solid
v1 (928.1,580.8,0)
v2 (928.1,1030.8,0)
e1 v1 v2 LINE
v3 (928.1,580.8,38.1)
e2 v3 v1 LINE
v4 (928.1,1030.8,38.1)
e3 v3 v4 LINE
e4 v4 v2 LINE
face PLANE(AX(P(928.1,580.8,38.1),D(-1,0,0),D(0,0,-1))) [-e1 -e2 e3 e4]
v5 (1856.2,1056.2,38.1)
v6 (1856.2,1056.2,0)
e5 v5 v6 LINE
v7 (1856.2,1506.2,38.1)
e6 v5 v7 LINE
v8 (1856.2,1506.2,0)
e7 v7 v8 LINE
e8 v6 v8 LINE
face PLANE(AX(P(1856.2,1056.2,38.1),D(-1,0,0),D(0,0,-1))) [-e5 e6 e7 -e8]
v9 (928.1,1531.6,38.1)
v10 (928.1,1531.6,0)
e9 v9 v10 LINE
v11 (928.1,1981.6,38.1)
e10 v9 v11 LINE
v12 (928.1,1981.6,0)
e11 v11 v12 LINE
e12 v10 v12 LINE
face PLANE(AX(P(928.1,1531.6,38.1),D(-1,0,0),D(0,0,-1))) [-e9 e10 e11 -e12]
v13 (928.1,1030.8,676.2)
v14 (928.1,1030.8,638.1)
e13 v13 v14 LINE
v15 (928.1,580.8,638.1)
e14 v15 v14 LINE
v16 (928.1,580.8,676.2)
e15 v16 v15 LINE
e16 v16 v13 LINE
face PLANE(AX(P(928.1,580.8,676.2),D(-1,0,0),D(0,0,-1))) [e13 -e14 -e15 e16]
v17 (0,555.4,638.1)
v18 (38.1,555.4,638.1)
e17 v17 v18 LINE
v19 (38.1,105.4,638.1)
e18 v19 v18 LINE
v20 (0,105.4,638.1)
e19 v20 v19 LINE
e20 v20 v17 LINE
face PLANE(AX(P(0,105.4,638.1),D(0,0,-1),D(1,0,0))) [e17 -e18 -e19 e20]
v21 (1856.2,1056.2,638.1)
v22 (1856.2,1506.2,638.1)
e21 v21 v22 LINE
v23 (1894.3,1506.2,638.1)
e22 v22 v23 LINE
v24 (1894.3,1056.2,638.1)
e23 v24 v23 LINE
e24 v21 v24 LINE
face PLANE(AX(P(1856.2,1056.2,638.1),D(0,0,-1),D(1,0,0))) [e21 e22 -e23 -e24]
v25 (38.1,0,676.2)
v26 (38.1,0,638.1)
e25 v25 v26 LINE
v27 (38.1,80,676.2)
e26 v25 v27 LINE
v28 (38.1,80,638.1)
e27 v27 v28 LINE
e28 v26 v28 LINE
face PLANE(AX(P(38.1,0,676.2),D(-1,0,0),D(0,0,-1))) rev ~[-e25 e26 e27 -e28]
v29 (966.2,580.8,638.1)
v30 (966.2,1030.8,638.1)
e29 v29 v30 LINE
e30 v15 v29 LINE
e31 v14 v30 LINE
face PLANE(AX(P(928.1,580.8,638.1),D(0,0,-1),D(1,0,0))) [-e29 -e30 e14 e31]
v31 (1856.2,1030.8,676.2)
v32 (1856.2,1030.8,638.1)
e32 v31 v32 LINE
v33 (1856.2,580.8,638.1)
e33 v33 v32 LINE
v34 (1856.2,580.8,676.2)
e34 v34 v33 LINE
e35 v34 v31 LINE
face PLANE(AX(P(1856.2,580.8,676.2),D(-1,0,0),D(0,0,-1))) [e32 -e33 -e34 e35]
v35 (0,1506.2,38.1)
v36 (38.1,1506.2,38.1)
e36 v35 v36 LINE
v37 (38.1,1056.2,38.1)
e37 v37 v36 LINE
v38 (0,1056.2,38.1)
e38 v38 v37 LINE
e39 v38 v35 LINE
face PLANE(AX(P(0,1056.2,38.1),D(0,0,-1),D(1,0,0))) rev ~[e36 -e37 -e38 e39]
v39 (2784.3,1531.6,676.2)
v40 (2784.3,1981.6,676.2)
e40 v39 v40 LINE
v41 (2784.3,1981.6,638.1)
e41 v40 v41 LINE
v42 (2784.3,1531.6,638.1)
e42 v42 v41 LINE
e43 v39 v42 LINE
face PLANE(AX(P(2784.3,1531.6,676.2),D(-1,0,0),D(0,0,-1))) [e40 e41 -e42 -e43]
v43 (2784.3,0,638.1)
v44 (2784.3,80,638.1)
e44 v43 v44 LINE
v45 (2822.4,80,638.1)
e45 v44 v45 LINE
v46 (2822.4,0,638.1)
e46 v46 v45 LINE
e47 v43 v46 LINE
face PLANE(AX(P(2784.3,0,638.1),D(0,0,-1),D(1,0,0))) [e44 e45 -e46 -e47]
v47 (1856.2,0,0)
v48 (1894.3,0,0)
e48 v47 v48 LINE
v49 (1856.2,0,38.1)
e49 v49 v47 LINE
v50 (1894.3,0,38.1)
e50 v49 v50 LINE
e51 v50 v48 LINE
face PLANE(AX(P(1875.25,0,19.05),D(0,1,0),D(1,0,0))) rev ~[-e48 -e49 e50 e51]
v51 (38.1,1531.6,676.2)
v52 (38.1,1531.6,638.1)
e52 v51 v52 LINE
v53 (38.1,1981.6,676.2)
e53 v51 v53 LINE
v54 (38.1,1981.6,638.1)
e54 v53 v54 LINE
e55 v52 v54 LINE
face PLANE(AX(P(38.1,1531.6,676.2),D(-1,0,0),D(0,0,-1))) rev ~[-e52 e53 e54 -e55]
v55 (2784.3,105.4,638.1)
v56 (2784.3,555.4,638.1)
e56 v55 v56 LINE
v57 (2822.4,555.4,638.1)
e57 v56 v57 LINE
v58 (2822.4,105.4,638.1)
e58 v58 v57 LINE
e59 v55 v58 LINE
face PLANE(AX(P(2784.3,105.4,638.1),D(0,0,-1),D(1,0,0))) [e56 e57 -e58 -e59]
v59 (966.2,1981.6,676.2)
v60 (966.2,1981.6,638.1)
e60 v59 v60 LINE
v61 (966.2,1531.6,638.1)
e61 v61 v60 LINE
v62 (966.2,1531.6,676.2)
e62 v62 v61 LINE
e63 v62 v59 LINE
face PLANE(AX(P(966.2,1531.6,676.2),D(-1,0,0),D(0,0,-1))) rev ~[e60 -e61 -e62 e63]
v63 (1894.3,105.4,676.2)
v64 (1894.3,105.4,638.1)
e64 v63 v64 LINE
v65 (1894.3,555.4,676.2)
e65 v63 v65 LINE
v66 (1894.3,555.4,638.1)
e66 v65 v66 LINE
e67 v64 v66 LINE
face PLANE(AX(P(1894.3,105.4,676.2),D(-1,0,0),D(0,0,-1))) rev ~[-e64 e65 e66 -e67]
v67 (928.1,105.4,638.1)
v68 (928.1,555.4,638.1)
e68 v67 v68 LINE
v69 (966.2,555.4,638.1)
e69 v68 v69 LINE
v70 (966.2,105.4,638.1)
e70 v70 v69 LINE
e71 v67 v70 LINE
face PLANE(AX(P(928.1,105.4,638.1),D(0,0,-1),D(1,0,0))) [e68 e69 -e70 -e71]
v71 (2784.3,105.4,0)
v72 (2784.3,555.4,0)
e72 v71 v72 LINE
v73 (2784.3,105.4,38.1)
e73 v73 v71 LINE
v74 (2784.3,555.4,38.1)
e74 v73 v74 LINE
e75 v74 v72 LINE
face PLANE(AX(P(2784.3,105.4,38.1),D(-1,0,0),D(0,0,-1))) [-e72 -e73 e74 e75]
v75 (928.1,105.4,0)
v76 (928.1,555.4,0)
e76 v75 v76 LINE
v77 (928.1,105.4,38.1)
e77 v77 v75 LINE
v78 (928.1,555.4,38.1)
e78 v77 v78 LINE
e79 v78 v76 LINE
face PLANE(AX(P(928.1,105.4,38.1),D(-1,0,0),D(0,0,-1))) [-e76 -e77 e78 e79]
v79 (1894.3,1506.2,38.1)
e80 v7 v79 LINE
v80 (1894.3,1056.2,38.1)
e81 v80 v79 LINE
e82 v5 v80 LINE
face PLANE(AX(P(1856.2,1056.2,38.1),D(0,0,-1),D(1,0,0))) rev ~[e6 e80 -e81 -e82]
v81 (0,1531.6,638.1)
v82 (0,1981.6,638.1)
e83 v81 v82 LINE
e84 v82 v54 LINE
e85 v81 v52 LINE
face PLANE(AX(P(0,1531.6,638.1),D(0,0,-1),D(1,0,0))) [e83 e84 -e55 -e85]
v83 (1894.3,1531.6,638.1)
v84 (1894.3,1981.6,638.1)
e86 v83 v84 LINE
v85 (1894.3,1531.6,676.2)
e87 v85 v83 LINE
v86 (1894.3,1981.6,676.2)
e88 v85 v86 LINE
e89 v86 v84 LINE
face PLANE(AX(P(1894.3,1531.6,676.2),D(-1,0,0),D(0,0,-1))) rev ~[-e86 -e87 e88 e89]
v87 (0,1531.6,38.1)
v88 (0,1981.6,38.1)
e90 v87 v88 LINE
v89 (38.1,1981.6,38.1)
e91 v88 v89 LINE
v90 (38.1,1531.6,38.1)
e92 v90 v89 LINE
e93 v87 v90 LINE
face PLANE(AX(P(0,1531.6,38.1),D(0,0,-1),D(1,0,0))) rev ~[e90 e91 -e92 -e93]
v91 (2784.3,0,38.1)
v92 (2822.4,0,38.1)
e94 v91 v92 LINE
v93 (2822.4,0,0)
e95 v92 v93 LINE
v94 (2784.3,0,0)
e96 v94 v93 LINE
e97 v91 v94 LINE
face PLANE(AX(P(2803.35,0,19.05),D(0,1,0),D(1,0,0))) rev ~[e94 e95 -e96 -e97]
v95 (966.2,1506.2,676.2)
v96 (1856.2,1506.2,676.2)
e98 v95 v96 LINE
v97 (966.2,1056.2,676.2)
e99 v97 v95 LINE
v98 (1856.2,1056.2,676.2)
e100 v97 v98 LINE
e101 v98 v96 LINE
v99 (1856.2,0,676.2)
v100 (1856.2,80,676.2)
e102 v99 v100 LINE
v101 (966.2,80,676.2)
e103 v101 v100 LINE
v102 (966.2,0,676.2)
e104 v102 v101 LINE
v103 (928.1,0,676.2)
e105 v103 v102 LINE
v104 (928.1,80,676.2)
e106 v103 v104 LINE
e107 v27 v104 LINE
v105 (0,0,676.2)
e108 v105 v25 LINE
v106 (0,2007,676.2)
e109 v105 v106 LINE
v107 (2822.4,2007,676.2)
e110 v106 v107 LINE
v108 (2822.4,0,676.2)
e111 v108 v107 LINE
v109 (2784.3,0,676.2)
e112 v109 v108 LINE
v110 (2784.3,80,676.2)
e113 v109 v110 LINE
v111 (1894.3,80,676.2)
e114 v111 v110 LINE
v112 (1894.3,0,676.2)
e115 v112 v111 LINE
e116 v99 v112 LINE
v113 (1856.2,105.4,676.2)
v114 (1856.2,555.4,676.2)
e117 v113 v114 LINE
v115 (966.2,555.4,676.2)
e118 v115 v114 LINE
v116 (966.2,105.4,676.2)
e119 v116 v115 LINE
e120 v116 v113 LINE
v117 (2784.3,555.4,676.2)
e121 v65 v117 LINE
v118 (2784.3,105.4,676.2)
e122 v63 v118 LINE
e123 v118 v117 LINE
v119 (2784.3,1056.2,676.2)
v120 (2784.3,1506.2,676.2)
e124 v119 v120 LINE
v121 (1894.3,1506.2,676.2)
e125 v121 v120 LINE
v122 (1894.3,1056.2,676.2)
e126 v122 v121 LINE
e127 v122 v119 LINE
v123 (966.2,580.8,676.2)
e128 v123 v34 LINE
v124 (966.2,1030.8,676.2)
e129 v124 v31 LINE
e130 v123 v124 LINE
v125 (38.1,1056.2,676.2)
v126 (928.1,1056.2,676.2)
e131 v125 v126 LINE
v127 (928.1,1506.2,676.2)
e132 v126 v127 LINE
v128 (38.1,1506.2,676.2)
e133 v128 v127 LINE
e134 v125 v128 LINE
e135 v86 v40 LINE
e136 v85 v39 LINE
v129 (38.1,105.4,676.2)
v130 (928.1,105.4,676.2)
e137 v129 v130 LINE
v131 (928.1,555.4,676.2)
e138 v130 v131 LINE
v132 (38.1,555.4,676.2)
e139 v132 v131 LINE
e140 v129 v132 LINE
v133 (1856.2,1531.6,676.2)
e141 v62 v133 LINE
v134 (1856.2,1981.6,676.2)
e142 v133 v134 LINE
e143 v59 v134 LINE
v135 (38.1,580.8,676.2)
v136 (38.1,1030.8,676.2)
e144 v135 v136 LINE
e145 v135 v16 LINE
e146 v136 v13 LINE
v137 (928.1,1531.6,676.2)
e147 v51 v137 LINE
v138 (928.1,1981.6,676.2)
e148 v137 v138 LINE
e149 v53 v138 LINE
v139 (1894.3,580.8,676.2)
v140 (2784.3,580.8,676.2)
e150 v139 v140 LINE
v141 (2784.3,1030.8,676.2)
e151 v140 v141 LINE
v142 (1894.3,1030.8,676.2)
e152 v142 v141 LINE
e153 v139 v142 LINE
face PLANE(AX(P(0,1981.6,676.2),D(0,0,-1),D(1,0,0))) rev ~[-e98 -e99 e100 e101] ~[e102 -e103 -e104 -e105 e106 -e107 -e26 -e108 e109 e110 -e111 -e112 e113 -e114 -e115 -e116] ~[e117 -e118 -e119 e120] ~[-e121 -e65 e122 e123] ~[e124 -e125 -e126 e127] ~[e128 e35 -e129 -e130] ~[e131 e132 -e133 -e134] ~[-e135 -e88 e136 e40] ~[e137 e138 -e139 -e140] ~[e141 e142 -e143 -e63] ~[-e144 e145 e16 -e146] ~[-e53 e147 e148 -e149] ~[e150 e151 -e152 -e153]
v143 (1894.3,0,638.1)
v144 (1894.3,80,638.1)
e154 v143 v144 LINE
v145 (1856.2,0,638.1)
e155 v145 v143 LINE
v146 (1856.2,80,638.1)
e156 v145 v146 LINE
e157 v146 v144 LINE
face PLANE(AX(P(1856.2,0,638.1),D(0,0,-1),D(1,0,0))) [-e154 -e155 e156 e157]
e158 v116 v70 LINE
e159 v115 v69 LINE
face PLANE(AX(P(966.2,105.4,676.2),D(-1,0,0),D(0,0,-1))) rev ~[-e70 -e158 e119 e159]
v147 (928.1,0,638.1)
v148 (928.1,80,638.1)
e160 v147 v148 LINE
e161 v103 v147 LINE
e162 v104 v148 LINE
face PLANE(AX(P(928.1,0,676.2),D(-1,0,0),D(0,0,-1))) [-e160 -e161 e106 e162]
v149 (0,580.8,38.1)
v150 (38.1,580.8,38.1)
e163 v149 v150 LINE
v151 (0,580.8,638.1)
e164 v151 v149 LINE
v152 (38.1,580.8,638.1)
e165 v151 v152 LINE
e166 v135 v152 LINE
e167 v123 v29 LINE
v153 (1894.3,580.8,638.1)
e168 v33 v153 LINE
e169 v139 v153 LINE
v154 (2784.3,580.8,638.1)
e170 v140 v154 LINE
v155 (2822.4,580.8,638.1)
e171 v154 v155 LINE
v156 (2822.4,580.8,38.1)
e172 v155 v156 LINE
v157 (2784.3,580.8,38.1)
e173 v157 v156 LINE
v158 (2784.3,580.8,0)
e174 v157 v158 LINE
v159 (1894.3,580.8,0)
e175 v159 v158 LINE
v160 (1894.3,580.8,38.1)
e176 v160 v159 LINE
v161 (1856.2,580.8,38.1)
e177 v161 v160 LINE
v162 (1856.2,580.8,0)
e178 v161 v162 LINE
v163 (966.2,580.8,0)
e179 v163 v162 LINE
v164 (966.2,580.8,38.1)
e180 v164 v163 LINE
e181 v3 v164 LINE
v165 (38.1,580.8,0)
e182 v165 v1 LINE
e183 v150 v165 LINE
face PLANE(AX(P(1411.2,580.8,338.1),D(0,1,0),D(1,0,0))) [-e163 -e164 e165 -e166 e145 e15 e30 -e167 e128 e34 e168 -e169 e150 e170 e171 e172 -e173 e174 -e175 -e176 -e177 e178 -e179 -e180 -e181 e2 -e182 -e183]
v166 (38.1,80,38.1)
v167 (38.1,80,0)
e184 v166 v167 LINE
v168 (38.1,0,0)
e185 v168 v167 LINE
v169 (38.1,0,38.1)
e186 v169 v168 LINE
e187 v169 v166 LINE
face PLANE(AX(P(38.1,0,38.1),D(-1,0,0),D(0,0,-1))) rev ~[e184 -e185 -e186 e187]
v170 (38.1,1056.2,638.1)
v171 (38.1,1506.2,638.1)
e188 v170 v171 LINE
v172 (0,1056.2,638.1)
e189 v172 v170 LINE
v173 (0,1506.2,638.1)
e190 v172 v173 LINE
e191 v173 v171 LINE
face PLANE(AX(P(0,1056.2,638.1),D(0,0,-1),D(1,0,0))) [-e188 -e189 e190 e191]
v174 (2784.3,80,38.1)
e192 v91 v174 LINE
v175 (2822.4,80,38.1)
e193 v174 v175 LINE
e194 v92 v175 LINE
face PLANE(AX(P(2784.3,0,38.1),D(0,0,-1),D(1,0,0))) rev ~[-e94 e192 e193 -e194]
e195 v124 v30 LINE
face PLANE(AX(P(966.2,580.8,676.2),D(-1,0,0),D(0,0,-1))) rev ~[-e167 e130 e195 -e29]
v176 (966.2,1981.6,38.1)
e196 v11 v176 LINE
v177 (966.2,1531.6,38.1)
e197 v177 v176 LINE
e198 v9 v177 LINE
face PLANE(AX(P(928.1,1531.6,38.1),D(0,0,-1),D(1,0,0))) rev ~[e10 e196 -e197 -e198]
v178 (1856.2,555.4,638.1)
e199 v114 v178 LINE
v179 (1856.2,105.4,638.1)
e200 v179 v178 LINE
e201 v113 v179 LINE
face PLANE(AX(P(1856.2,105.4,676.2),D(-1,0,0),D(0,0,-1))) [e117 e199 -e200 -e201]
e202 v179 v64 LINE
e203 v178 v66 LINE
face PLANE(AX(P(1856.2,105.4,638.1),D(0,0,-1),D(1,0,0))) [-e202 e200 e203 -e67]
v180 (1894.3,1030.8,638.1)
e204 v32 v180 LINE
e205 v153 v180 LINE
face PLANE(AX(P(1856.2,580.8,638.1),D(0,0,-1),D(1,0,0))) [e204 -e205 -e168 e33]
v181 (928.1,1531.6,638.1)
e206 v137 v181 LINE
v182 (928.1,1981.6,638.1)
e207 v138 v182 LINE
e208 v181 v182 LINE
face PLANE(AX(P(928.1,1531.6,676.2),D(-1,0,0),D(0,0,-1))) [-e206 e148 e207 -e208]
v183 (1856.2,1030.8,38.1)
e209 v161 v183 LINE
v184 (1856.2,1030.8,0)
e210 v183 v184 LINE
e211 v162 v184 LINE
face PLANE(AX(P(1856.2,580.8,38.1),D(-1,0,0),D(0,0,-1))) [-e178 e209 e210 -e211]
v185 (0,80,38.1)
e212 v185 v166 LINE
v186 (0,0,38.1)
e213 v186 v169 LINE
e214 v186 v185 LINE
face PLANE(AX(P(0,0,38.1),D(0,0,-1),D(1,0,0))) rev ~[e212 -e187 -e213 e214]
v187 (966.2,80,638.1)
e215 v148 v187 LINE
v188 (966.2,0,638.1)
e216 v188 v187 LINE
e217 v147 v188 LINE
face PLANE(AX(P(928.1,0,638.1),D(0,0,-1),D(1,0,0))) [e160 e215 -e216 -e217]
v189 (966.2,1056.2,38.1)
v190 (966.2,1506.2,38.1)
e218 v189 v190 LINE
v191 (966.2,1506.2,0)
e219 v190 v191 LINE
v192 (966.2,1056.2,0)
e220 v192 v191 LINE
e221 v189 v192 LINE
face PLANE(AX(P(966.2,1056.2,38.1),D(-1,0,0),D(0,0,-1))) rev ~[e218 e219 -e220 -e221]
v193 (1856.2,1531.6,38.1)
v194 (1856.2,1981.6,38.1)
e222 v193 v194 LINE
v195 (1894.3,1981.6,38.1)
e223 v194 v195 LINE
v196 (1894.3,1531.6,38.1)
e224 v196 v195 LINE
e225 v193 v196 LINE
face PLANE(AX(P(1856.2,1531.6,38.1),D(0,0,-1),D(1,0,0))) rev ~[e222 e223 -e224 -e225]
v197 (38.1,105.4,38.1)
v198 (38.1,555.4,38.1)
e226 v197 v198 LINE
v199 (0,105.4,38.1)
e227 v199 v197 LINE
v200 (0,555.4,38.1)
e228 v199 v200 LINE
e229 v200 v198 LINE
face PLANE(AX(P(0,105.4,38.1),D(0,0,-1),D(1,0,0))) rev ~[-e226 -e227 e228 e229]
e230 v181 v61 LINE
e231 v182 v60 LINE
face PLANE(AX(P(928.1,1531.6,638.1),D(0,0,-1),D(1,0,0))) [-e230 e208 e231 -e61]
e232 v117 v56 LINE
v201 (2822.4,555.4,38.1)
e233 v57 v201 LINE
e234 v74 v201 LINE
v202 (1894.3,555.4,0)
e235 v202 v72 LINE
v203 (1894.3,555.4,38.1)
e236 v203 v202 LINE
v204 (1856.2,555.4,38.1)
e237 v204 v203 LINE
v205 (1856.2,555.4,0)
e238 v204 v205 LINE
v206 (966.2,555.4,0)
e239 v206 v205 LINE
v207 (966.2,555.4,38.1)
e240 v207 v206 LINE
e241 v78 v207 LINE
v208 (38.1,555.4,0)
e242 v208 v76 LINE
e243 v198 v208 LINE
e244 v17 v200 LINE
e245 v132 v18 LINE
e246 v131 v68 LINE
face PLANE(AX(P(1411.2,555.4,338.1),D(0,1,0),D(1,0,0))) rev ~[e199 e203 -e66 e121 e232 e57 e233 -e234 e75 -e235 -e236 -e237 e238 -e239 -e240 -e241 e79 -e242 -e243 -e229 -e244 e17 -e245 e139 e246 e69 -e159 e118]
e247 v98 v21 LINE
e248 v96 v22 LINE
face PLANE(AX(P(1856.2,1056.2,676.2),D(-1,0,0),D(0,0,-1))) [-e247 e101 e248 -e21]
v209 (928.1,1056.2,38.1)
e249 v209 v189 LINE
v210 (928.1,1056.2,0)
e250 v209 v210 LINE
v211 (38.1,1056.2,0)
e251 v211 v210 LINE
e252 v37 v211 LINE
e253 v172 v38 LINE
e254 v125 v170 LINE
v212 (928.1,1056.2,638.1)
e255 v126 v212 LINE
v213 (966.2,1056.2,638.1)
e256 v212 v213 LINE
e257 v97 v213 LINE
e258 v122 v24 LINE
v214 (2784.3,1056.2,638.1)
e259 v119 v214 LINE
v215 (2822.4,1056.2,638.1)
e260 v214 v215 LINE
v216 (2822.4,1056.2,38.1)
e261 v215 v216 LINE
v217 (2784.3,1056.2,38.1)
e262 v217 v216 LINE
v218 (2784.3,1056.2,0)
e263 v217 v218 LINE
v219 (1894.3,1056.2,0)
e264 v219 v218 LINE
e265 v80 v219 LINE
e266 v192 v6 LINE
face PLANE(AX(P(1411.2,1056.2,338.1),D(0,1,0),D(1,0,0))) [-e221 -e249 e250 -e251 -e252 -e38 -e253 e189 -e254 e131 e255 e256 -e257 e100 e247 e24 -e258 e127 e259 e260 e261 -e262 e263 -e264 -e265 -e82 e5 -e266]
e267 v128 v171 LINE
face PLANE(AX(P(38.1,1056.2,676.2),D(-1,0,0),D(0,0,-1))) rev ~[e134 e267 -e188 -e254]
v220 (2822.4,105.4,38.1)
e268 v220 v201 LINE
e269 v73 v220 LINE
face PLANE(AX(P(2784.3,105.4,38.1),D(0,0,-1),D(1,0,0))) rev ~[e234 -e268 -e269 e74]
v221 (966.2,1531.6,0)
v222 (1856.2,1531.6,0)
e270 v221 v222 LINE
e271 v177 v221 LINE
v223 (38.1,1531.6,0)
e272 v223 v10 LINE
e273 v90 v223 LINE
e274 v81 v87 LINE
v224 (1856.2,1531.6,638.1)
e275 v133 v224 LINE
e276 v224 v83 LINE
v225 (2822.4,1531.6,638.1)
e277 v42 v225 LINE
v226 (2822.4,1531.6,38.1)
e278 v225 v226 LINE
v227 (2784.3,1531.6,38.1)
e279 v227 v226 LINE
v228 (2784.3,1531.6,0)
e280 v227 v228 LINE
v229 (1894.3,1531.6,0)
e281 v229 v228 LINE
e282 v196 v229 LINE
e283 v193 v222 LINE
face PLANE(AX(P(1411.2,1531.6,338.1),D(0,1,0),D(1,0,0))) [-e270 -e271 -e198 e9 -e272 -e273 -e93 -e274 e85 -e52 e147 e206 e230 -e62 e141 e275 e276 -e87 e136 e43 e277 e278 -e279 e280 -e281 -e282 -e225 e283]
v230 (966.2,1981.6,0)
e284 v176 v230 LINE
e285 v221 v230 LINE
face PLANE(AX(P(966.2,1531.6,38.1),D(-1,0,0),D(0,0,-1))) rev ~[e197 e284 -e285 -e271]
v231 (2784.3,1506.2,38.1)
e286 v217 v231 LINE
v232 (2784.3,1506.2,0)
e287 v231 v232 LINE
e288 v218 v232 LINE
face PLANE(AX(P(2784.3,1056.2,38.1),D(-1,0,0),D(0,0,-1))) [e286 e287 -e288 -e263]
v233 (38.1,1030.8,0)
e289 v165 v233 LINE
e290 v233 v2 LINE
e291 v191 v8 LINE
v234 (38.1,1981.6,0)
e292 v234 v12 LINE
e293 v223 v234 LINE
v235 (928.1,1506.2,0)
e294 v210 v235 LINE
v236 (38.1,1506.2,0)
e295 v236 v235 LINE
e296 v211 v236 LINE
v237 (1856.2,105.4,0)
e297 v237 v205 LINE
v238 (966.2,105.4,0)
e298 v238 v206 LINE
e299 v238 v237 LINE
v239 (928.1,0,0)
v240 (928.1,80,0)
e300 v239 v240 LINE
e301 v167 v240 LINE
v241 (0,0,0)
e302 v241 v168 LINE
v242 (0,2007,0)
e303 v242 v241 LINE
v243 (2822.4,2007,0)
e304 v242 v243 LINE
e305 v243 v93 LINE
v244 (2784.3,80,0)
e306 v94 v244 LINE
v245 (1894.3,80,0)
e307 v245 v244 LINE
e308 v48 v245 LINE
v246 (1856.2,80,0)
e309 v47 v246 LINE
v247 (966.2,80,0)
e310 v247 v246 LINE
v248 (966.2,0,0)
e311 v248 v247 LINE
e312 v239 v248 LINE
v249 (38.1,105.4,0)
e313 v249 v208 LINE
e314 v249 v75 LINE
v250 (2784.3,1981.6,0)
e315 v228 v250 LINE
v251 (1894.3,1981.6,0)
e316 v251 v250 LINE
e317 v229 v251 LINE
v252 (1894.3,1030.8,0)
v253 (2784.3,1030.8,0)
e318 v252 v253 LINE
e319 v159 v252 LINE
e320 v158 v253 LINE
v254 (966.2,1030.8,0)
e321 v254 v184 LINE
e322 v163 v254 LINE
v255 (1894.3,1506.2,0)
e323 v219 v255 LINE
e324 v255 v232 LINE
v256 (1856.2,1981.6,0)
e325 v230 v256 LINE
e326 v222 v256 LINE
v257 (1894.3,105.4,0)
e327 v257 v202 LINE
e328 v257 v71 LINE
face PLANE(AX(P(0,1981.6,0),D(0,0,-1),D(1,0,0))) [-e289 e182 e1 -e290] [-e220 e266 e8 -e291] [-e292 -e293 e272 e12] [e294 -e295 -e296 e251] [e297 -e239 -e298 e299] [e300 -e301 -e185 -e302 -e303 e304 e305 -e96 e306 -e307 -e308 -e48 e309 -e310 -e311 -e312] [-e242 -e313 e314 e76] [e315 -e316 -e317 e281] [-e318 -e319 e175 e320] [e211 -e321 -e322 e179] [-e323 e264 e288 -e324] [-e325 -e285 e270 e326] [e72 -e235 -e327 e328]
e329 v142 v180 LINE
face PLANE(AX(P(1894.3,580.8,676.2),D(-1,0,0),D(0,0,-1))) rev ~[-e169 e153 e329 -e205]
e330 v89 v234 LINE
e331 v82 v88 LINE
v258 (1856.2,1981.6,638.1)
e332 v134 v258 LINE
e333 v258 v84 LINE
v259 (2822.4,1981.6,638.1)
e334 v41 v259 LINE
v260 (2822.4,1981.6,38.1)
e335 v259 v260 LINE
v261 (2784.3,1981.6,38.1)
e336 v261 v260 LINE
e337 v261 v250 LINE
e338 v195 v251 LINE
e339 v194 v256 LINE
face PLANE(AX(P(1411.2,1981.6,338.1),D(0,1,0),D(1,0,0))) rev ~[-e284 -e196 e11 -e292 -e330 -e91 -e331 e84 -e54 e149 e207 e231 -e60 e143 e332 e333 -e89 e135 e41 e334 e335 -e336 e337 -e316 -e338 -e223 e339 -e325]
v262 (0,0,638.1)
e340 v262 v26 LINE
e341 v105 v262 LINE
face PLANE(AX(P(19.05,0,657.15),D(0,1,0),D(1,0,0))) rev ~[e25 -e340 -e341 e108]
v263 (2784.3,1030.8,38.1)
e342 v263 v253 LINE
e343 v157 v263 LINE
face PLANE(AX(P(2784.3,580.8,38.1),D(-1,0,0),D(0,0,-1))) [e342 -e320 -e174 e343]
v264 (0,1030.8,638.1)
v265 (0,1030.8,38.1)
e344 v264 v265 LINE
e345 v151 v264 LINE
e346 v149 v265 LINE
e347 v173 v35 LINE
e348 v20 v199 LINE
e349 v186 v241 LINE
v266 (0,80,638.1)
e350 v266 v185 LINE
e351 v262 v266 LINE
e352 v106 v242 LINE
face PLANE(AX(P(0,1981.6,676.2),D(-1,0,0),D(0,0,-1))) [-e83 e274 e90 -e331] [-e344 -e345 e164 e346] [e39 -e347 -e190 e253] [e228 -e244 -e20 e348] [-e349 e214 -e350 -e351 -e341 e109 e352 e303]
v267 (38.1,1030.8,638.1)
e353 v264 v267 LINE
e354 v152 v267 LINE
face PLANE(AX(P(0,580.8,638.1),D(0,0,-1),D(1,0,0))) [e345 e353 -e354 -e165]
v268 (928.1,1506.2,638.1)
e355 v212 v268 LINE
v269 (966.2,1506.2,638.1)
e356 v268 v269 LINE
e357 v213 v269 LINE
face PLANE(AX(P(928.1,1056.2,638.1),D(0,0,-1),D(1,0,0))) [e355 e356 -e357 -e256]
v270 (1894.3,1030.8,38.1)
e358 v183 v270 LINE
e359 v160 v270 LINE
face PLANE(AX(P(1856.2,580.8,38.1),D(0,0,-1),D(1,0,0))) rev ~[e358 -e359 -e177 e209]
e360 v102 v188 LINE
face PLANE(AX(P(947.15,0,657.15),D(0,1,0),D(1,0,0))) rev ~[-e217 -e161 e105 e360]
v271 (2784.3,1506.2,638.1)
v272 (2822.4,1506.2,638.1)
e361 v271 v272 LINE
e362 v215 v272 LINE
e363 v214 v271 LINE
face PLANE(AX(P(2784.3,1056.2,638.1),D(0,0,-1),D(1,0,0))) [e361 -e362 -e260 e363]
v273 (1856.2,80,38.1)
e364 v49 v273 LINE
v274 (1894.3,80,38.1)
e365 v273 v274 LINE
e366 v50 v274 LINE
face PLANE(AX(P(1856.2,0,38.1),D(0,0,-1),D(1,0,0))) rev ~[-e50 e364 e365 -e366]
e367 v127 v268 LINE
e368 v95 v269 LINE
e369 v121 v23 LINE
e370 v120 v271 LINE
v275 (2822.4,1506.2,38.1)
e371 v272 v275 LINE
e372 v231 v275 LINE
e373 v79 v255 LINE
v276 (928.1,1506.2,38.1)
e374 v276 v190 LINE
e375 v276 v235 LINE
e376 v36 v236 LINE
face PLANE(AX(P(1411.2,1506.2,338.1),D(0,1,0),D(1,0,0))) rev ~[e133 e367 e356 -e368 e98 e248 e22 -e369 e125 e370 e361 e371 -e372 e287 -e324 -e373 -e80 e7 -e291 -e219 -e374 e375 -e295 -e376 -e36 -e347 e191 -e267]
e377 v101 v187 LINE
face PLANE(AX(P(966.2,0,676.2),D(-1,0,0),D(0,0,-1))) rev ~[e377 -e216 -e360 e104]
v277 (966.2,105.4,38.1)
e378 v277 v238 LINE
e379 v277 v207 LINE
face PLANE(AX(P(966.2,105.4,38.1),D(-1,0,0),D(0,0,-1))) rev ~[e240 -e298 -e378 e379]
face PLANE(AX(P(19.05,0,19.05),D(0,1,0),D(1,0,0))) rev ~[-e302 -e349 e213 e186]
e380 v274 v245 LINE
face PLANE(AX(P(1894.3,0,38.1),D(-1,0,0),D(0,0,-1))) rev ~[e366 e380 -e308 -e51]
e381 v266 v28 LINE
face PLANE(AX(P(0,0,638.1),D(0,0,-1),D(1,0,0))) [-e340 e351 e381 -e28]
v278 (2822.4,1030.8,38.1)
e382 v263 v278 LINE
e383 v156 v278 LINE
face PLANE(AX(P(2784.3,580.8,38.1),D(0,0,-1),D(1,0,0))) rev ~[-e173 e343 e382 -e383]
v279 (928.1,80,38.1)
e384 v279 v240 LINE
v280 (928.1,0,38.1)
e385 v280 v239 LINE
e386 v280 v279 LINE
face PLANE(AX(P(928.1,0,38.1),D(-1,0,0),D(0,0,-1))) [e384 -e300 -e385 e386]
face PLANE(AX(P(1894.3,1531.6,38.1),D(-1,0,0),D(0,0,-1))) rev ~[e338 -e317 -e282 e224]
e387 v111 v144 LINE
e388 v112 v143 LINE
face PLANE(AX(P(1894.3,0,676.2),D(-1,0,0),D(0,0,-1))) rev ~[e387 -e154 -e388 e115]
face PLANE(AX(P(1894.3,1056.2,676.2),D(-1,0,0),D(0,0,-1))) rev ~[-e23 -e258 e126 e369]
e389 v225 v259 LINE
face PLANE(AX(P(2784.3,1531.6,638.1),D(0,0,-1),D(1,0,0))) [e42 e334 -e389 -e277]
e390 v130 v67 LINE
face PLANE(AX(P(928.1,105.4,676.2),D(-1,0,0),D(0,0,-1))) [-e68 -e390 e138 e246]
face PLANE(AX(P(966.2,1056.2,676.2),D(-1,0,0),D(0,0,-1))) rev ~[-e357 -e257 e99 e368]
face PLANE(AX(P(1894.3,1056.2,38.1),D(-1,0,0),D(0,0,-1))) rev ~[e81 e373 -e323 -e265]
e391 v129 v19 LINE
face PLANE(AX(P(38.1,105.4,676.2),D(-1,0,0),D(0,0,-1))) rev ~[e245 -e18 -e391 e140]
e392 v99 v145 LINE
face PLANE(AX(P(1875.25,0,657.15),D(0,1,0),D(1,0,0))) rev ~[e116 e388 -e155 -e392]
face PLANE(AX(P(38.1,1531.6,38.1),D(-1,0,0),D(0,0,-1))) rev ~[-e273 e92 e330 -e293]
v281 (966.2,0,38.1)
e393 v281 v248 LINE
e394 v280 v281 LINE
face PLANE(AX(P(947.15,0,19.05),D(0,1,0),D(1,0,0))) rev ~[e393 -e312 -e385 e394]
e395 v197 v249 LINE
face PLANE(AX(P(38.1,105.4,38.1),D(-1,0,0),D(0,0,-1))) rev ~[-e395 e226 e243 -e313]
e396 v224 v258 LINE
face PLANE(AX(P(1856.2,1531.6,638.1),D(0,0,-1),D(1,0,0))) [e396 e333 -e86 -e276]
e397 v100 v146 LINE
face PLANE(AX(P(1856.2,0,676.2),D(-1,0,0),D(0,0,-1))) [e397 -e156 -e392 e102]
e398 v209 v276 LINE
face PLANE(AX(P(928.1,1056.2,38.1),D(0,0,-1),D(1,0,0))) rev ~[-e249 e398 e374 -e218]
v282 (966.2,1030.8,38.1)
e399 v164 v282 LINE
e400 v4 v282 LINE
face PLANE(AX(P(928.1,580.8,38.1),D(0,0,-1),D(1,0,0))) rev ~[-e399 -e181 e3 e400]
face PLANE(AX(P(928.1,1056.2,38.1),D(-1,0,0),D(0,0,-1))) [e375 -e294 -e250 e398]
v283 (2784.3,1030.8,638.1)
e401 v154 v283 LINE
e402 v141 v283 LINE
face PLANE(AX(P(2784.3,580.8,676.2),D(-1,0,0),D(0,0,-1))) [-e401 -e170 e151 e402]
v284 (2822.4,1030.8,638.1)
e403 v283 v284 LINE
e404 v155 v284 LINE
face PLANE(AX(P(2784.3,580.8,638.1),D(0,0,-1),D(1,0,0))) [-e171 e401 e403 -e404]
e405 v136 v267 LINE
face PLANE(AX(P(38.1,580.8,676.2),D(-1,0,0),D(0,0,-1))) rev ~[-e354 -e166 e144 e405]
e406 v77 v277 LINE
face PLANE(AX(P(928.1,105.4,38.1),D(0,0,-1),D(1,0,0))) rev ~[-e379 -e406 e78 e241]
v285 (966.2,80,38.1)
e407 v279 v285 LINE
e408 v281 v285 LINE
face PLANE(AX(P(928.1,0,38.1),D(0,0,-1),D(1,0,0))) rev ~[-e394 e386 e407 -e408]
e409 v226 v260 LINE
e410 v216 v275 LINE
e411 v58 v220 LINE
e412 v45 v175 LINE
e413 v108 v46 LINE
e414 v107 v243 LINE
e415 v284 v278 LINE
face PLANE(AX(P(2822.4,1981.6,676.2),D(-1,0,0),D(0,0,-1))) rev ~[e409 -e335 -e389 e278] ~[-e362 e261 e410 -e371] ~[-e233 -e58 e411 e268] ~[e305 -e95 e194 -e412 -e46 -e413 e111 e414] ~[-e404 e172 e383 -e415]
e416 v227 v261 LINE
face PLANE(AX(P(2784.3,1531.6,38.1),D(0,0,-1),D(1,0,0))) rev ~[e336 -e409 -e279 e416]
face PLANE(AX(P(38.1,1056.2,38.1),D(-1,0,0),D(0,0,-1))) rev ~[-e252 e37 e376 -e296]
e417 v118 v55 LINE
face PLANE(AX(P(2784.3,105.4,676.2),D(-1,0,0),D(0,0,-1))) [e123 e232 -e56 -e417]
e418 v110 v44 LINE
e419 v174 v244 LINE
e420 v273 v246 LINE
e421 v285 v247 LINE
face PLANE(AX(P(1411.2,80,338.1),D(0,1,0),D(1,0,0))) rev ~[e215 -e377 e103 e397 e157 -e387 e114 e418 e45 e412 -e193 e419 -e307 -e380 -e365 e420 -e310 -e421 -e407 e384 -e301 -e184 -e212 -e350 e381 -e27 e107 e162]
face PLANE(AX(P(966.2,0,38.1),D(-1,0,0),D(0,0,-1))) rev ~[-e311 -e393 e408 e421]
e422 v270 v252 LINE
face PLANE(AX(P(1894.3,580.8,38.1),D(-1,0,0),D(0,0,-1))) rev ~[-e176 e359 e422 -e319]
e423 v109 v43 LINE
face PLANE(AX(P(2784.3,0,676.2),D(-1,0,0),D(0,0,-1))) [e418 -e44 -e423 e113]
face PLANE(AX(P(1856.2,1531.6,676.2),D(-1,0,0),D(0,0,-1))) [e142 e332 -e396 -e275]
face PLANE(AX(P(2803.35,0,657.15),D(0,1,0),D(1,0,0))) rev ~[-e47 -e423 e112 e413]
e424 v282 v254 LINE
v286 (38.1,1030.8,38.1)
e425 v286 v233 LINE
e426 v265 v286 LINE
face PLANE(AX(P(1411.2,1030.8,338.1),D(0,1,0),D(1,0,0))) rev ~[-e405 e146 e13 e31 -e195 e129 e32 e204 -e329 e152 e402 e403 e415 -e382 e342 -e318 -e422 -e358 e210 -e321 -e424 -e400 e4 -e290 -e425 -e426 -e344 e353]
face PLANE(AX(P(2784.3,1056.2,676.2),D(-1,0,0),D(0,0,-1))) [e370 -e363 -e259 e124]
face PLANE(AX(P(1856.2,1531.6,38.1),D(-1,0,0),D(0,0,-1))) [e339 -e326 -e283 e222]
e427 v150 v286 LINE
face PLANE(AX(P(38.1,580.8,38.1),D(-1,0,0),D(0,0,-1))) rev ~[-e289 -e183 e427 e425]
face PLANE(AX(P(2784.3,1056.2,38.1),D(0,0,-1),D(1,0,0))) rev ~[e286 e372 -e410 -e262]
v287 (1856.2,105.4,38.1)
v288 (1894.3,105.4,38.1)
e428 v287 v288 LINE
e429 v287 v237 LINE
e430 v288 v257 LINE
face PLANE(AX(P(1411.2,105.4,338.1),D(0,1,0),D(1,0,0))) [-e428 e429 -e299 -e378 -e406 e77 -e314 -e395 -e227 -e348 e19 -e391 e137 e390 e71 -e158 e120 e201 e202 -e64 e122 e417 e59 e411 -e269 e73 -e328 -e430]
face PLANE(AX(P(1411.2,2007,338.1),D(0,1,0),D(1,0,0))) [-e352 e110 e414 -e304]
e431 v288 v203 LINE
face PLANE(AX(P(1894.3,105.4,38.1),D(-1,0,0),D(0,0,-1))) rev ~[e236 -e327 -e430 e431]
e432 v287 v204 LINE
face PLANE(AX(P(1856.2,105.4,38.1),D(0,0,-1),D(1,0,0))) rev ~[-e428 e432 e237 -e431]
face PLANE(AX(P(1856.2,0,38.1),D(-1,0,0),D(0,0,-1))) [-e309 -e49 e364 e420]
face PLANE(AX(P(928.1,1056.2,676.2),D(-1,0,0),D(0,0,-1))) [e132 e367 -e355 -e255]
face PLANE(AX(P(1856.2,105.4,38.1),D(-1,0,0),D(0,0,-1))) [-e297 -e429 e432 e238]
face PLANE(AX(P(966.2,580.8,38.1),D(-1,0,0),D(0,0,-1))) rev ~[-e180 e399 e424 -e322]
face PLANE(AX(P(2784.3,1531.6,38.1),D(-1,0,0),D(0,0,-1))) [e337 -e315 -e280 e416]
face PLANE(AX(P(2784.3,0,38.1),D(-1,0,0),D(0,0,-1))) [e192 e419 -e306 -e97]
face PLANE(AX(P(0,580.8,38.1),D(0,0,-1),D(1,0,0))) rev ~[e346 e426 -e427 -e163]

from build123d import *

# Parameters (mm, degrees)
CROQUIS1_W                = 38.1
CROQUIS1_H                = 38.1
SALIENTE_EXTRUIR1_DEPTH   = 80
SALIENTE_EXTRUIR1_2_DEPTH = 80
SALIENTE_EXTRUIR1_3_DEPTH = 80
SALIENTE_EXTRUIR1_4_DEPTH = 80
SALIENTE_EXTRUIR1_5_DEPTH = 80
SALIENTE_EXTRUIR1_6_DEPTH = 80
SALIENTE_EXTRUIR1_7_DEPTH = 80
SALIENTE_EXTRUIR1_8_DEPTH = 80
CROQUIS2_W                = 2822.4
CROQUIS2_H                = 676.2
SALIENTE_EXTRUIR2_DEPTH   = 25.4
CROQUIS3_W                = 38.1
CROQUIS3_H                = 38.1
SALIENTE_EXTRUIR3_DEPTH   = 450
CROQUIS4_W                = 2822.4
CROQUIS4_H                = 676.2
SALIENTE_EXTRUIR4_DEPTH   = 25.4
CROQUIS5_W                = 38.1
CROQUIS5_H                = 38.1
SALIENTE_EXTRUIR5_DEPTH   = 450
CROQUIS6_W                = 2822.4
CROQUIS6_H                = 676.2
SALIENTE_EXTRUIR6_DEPTH   = 25.4
CROQUIS7_W                = 38.1
CROQUIS7_H                = 38.1
SALIENTE_EXTRUIR7_DEPTH   = 450
CROQUIS8_W                = 2822.4
CROQUIS8_H                = 676.2
SALIENTE_EXTRUIR8_DEPTH   = 25.4
CROQUIS9_W                = 38.1
CROQUIS9_H                = 38.1
SALIENTE_EXTRUIR9_DEPTH   = 450
CROQUIS10_W               = 2822.4
CROQUIS10_H               = 676.2
SALIENTE_EXTRUIR10_DEPTH  = 25.4


with BuildPart() as part:
    # Croquis1 → Saliente-Extruir1 (new body)
    with BuildSketch(Plane(origin=(0, 0, 0), x_dir=(1, 0, 0), z_dir=(0, 1, 0))):
        with Locations((19.05, -19.05)):
            Rectangle(CROQUIS1_W, CROQUIS1_H)
    extrude(amount=SALIENTE_EXTRUIR1_DEPTH)



with BuildPart() as body_2:
    # Croquis1 → Saliente-Extruir1 2 (new body)
    with BuildSketch(Plane(origin=(0, 0, 0), x_dir=(1, 0, 0), z_dir=(0, 1, 0))):
        with Locations((947.15, -19.05)):
            Rectangle(CROQUIS1_W, CROQUIS1_H)
    extrude(amount=SALIENTE_EXTRUIR1_2_DEPTH)


with BuildPart() as body_3:
    # Croquis1 → Saliente-Extruir1 3 (new body)
    with BuildSketch(Plane(origin=(0, 0, 0), x_dir=(1, 0, 0), z_dir=(0, 1, 0))):
        with Locations((1875.25, -19.05)):
            Rectangle(CROQUIS1_W, CROQUIS1_H)
    extrude(amount=SALIENTE_EXTRUIR1_3_DEPTH)


with BuildPart() as body_4:
    # Croquis1 → Saliente-Extruir1 4 (new body)
    with BuildSketch(Plane(origin=(0, 0, 0), x_dir=(1, 0, 0), z_dir=(0, 1, 0))):
        with Locations((2803.35, -19.05)):
            Rectangle(CROQUIS1_W, CROQUIS1_H)
    extrude(amount=SALIENTE_EXTRUIR1_4_DEPTH)


with BuildPart() as body_5:
    # Croquis1 → Saliente-Extruir1 5 (new body)
    with BuildSketch(Plane(origin=(0, 0, 0), x_dir=(1, 0, 0), z_dir=(0, 1, 0))):
        with Locations((2803.35, -657.15)):
            Rectangle(CROQUIS1_W, CROQUIS1_H)
    extrude(amount=SALIENTE_EXTRUIR1_5_DEPTH)


with BuildPart() as body_6:
    # Croquis1 → Saliente-Extruir1 6 (new body)
    with BuildSketch(Plane(origin=(0, 0, 0), x_dir=(1, 0, 0), z_dir=(0, 1, 0))):
        with Locations((1875.25, -657.15)):
            Rectangle(CROQUIS1_W, CROQUIS1_H)
    extrude(amount=SALIENTE_EXTRUIR1_6_DEPTH)


with BuildPart() as body_7:
    # Croquis1 → Saliente-Extruir1 7 (new body)
    with BuildSketch(Plane(origin=(0, 0, 0), x_dir=(1, 0, 0), z_dir=(0, 1, 0))):
        with Locations((947.15, -657.15)):
            Rectangle(CROQUIS1_W, CROQUIS1_H)
    extrude(amount=SALIENTE_EXTRUIR1_7_DEPTH)


with BuildPart() as body_8:
    # Croquis1 → Saliente-Extruir1 8 (new body)
    with BuildSketch(Plane(origin=(0, 0, 0), x_dir=(1, 0, 0), z_dir=(0, 1, 0))):
        with Locations((19.05, -657.15)):
            Rectangle(CROQUIS1_W, CROQUIS1_H)
    extrude(amount=SALIENTE_EXTRUIR1_8_DEPTH)


with BuildPart() as part_1:
    add(part.part)

    add(body_2.part)  # Saliente-Extruir2 merges body 2

    add(body_3.part)  # Saliente-Extruir2 merges body 3

    add(body_4.part)  # Saliente-Extruir2 merges body 4

    add(body_5.part)  # Saliente-Extruir2 merges body 5

    add(body_6.part)  # Saliente-Extruir2 merges body 6

    add(body_7.part)  # Saliente-Extruir2 merges body 7

    add(body_8.part)  # Saliente-Extruir2 merges body 8
    # Croquis2 → Saliente-Extruir2 (add)
    with BuildSketch(Plane(origin=(0, 80, 0), x_dir=(1, 0, 0), z_dir=(0, 1, 0))):
        with Locations((1411.2, -338.1)):
            Rectangle(CROQUIS2_W, CROQUIS2_H)
    extrude(amount=SALIENTE_EXTRUIR2_DEPTH)

    # Croquis3 → Saliente-Extruir3 (add)
    with BuildSketch(Plane(origin=(0, 105.4, 0), x_dir=(1, 0, 0), z_dir=(0, 1, 0))):
        with Locations((19.05, -19.05)):
            Rectangle(CROQUIS3_W, CROQUIS3_H)
        with Locations((947.15, -19.05)):
            Rectangle(CROQUIS3_W, CROQUIS3_H)
        with Locations((1875.25, -19.05)):
            Rectangle(CROQUIS3_W, CROQUIS3_H)
        with Locations((2803.35, -19.05)):
            Rectangle(CROQUIS3_W, CROQUIS3_H)
        with Locations((2803.35, -657.15)):
            Rectangle(CROQUIS3_W, CROQUIS3_H)
        with Locations((1875.25, -657.15)):
            Rectangle(CROQUIS3_W, CROQUIS3_H)
        with Locations((947.15, -657.15)):
            Rectangle(CROQUIS3_W, CROQUIS3_H)
        with Locations((19.05, -657.15)):
            Rectangle(CROQUIS3_W, CROQUIS3_H)
    extrude(amount=SALIENTE_EXTRUIR3_DEPTH)

    # Croquis4 → Saliente-Extruir4 (add)
    with BuildSketch(Plane(origin=(0, 555.4, 0), x_dir=(1, 0, 0), z_dir=(0, 1, 0))):
        with Locations((1411.2, -338.1)):
            Rectangle(CROQUIS4_W, CROQUIS4_H)
    extrude(amount=SALIENTE_EXTRUIR4_DEPTH)

    # Croquis5 → Saliente-Extruir5 (add)
    with BuildSketch(Plane(origin=(0, 580.8, 0), x_dir=(1, 0, 0), z_dir=(0, 1, 0))):
        with Locations((19.05, -19.05)):
            Rectangle(CROQUIS5_W, CROQUIS5_H)
        with Locations((947.15, -19.05)):
            Rectangle(CROQUIS5_W, CROQUIS5_H)
        with Locations((1875.25, -19.05)):
            Rectangle(CROQUIS5_W, CROQUIS5_H)
        with Locations((2803.35, -19.05)):
            Rectangle(CROQUIS5_W, CROQUIS5_H)
        with Locations((2803.35, -657.15)):
            Rectangle(CROQUIS5_W, CROQUIS5_H)
        with Locations((1875.25, -657.15)):
            Rectangle(CROQUIS5_W, CROQUIS5_H)
        with Locations((947.15, -657.15)):
            Rectangle(CROQUIS5_W, CROQUIS5_H)
        with Locations((19.05, -657.15)):
            Rectangle(CROQUIS5_W, CROQUIS5_H)
    extrude(amount=SALIENTE_EXTRUIR5_DEPTH)

    # Croquis6 → Saliente-Extruir6 (add)
    with BuildSketch(Plane(origin=(0, 1030.8, 0), x_dir=(1, 0, 0), z_dir=(0, 1, 0))):
        with Locations((1411.2, -338.1)):
            Rectangle(CROQUIS6_W, CROQUIS6_H)
    extrude(amount=SALIENTE_EXTRUIR6_DEPTH)

    # Croquis7 → Saliente-Extruir7 (add)
    with BuildSketch(Plane(origin=(0, 1056.2, 0), x_dir=(1, 0, 0), z_dir=(0, 1, 0))):
        with Locations((19.05, -19.05)):
            Rectangle(CROQUIS7_W, CROQUIS7_H)
        with Locations((947.15, -19.05)):
            Rectangle(CROQUIS7_W, CROQUIS7_H)
        with Locations((1875.25, -19.05)):
            Rectangle(CROQUIS7_W, CROQUIS7_H)
        with Locations((2803.35, -19.05)):
            Rectangle(CROQUIS7_W, CROQUIS7_H)
        with Locations((2803.35, -657.15)):
            Rectangle(CROQUIS7_W, CROQUIS7_H)
        with Locations((1875.25, -657.15)):
            Rectangle(CROQUIS7_W, CROQUIS7_H)
        with Locations((947.15, -657.15)):
            Rectangle(CROQUIS7_W, CROQUIS7_H)
        with Locations((19.05, -657.15)):
            Rectangle(CROQUIS7_W, CROQUIS7_H)
    extrude(amount=SALIENTE_EXTRUIR7_DEPTH)

    # Croquis8 → Saliente-Extruir8 (add)
    with BuildSketch(Plane(origin=(0, 1506.2, 0), x_dir=(1, 0, 0), z_dir=(0, 1, 0))):
        with Locations((1411.2, -338.1)):
            Rectangle(CROQUIS8_W, CROQUIS8_H)
    extrude(amount=SALIENTE_EXTRUIR8_DEPTH)

    # Croquis9 → Saliente-Extruir9 (add)
    with BuildSketch(Plane(origin=(0, 1531.6, 0), x_dir=(1, 0, 0), z_dir=(0, 1, 0))):
        with Locations((19.05, -19.05)):
            Rectangle(CROQUIS9_W, CROQUIS9_H)
        with Locations((947.15, -19.05)):
            Rectangle(CROQUIS9_W, CROQUIS9_H)
        with Locations((1875.25, -19.05)):
            Rectangle(CROQUIS9_W, CROQUIS9_H)
        with Locations((2803.35, -19.05)):
            Rectangle(CROQUIS9_W, CROQUIS9_H)
        with Locations((2803.35, -657.15)):
            Rectangle(CROQUIS9_W, CROQUIS9_H)
        with Locations((1875.25, -657.15)):
            Rectangle(CROQUIS9_W, CROQUIS9_H)
        with Locations((947.15, -657.15)):
            Rectangle(CROQUIS9_W, CROQUIS9_H)
        with Locations((19.05, -657.15)):
            Rectangle(CROQUIS9_W, CROQUIS9_H)
    extrude(amount=SALIENTE_EXTRUIR9_DEPTH)

    # Croquis10 → Saliente-Extruir10 (add)
    with BuildSketch(Plane(origin=(0, 1981.6, 0), x_dir=(1, 0, 0), z_dir=(0, 1, 0))):
        with Locations((1411.2, -338.1)):
            Rectangle(CROQUIS10_W, CROQUIS10_H)
    extrude(amount=SALIENTE_EXTRUIR10_DEPTH)


solid = part_1.part
